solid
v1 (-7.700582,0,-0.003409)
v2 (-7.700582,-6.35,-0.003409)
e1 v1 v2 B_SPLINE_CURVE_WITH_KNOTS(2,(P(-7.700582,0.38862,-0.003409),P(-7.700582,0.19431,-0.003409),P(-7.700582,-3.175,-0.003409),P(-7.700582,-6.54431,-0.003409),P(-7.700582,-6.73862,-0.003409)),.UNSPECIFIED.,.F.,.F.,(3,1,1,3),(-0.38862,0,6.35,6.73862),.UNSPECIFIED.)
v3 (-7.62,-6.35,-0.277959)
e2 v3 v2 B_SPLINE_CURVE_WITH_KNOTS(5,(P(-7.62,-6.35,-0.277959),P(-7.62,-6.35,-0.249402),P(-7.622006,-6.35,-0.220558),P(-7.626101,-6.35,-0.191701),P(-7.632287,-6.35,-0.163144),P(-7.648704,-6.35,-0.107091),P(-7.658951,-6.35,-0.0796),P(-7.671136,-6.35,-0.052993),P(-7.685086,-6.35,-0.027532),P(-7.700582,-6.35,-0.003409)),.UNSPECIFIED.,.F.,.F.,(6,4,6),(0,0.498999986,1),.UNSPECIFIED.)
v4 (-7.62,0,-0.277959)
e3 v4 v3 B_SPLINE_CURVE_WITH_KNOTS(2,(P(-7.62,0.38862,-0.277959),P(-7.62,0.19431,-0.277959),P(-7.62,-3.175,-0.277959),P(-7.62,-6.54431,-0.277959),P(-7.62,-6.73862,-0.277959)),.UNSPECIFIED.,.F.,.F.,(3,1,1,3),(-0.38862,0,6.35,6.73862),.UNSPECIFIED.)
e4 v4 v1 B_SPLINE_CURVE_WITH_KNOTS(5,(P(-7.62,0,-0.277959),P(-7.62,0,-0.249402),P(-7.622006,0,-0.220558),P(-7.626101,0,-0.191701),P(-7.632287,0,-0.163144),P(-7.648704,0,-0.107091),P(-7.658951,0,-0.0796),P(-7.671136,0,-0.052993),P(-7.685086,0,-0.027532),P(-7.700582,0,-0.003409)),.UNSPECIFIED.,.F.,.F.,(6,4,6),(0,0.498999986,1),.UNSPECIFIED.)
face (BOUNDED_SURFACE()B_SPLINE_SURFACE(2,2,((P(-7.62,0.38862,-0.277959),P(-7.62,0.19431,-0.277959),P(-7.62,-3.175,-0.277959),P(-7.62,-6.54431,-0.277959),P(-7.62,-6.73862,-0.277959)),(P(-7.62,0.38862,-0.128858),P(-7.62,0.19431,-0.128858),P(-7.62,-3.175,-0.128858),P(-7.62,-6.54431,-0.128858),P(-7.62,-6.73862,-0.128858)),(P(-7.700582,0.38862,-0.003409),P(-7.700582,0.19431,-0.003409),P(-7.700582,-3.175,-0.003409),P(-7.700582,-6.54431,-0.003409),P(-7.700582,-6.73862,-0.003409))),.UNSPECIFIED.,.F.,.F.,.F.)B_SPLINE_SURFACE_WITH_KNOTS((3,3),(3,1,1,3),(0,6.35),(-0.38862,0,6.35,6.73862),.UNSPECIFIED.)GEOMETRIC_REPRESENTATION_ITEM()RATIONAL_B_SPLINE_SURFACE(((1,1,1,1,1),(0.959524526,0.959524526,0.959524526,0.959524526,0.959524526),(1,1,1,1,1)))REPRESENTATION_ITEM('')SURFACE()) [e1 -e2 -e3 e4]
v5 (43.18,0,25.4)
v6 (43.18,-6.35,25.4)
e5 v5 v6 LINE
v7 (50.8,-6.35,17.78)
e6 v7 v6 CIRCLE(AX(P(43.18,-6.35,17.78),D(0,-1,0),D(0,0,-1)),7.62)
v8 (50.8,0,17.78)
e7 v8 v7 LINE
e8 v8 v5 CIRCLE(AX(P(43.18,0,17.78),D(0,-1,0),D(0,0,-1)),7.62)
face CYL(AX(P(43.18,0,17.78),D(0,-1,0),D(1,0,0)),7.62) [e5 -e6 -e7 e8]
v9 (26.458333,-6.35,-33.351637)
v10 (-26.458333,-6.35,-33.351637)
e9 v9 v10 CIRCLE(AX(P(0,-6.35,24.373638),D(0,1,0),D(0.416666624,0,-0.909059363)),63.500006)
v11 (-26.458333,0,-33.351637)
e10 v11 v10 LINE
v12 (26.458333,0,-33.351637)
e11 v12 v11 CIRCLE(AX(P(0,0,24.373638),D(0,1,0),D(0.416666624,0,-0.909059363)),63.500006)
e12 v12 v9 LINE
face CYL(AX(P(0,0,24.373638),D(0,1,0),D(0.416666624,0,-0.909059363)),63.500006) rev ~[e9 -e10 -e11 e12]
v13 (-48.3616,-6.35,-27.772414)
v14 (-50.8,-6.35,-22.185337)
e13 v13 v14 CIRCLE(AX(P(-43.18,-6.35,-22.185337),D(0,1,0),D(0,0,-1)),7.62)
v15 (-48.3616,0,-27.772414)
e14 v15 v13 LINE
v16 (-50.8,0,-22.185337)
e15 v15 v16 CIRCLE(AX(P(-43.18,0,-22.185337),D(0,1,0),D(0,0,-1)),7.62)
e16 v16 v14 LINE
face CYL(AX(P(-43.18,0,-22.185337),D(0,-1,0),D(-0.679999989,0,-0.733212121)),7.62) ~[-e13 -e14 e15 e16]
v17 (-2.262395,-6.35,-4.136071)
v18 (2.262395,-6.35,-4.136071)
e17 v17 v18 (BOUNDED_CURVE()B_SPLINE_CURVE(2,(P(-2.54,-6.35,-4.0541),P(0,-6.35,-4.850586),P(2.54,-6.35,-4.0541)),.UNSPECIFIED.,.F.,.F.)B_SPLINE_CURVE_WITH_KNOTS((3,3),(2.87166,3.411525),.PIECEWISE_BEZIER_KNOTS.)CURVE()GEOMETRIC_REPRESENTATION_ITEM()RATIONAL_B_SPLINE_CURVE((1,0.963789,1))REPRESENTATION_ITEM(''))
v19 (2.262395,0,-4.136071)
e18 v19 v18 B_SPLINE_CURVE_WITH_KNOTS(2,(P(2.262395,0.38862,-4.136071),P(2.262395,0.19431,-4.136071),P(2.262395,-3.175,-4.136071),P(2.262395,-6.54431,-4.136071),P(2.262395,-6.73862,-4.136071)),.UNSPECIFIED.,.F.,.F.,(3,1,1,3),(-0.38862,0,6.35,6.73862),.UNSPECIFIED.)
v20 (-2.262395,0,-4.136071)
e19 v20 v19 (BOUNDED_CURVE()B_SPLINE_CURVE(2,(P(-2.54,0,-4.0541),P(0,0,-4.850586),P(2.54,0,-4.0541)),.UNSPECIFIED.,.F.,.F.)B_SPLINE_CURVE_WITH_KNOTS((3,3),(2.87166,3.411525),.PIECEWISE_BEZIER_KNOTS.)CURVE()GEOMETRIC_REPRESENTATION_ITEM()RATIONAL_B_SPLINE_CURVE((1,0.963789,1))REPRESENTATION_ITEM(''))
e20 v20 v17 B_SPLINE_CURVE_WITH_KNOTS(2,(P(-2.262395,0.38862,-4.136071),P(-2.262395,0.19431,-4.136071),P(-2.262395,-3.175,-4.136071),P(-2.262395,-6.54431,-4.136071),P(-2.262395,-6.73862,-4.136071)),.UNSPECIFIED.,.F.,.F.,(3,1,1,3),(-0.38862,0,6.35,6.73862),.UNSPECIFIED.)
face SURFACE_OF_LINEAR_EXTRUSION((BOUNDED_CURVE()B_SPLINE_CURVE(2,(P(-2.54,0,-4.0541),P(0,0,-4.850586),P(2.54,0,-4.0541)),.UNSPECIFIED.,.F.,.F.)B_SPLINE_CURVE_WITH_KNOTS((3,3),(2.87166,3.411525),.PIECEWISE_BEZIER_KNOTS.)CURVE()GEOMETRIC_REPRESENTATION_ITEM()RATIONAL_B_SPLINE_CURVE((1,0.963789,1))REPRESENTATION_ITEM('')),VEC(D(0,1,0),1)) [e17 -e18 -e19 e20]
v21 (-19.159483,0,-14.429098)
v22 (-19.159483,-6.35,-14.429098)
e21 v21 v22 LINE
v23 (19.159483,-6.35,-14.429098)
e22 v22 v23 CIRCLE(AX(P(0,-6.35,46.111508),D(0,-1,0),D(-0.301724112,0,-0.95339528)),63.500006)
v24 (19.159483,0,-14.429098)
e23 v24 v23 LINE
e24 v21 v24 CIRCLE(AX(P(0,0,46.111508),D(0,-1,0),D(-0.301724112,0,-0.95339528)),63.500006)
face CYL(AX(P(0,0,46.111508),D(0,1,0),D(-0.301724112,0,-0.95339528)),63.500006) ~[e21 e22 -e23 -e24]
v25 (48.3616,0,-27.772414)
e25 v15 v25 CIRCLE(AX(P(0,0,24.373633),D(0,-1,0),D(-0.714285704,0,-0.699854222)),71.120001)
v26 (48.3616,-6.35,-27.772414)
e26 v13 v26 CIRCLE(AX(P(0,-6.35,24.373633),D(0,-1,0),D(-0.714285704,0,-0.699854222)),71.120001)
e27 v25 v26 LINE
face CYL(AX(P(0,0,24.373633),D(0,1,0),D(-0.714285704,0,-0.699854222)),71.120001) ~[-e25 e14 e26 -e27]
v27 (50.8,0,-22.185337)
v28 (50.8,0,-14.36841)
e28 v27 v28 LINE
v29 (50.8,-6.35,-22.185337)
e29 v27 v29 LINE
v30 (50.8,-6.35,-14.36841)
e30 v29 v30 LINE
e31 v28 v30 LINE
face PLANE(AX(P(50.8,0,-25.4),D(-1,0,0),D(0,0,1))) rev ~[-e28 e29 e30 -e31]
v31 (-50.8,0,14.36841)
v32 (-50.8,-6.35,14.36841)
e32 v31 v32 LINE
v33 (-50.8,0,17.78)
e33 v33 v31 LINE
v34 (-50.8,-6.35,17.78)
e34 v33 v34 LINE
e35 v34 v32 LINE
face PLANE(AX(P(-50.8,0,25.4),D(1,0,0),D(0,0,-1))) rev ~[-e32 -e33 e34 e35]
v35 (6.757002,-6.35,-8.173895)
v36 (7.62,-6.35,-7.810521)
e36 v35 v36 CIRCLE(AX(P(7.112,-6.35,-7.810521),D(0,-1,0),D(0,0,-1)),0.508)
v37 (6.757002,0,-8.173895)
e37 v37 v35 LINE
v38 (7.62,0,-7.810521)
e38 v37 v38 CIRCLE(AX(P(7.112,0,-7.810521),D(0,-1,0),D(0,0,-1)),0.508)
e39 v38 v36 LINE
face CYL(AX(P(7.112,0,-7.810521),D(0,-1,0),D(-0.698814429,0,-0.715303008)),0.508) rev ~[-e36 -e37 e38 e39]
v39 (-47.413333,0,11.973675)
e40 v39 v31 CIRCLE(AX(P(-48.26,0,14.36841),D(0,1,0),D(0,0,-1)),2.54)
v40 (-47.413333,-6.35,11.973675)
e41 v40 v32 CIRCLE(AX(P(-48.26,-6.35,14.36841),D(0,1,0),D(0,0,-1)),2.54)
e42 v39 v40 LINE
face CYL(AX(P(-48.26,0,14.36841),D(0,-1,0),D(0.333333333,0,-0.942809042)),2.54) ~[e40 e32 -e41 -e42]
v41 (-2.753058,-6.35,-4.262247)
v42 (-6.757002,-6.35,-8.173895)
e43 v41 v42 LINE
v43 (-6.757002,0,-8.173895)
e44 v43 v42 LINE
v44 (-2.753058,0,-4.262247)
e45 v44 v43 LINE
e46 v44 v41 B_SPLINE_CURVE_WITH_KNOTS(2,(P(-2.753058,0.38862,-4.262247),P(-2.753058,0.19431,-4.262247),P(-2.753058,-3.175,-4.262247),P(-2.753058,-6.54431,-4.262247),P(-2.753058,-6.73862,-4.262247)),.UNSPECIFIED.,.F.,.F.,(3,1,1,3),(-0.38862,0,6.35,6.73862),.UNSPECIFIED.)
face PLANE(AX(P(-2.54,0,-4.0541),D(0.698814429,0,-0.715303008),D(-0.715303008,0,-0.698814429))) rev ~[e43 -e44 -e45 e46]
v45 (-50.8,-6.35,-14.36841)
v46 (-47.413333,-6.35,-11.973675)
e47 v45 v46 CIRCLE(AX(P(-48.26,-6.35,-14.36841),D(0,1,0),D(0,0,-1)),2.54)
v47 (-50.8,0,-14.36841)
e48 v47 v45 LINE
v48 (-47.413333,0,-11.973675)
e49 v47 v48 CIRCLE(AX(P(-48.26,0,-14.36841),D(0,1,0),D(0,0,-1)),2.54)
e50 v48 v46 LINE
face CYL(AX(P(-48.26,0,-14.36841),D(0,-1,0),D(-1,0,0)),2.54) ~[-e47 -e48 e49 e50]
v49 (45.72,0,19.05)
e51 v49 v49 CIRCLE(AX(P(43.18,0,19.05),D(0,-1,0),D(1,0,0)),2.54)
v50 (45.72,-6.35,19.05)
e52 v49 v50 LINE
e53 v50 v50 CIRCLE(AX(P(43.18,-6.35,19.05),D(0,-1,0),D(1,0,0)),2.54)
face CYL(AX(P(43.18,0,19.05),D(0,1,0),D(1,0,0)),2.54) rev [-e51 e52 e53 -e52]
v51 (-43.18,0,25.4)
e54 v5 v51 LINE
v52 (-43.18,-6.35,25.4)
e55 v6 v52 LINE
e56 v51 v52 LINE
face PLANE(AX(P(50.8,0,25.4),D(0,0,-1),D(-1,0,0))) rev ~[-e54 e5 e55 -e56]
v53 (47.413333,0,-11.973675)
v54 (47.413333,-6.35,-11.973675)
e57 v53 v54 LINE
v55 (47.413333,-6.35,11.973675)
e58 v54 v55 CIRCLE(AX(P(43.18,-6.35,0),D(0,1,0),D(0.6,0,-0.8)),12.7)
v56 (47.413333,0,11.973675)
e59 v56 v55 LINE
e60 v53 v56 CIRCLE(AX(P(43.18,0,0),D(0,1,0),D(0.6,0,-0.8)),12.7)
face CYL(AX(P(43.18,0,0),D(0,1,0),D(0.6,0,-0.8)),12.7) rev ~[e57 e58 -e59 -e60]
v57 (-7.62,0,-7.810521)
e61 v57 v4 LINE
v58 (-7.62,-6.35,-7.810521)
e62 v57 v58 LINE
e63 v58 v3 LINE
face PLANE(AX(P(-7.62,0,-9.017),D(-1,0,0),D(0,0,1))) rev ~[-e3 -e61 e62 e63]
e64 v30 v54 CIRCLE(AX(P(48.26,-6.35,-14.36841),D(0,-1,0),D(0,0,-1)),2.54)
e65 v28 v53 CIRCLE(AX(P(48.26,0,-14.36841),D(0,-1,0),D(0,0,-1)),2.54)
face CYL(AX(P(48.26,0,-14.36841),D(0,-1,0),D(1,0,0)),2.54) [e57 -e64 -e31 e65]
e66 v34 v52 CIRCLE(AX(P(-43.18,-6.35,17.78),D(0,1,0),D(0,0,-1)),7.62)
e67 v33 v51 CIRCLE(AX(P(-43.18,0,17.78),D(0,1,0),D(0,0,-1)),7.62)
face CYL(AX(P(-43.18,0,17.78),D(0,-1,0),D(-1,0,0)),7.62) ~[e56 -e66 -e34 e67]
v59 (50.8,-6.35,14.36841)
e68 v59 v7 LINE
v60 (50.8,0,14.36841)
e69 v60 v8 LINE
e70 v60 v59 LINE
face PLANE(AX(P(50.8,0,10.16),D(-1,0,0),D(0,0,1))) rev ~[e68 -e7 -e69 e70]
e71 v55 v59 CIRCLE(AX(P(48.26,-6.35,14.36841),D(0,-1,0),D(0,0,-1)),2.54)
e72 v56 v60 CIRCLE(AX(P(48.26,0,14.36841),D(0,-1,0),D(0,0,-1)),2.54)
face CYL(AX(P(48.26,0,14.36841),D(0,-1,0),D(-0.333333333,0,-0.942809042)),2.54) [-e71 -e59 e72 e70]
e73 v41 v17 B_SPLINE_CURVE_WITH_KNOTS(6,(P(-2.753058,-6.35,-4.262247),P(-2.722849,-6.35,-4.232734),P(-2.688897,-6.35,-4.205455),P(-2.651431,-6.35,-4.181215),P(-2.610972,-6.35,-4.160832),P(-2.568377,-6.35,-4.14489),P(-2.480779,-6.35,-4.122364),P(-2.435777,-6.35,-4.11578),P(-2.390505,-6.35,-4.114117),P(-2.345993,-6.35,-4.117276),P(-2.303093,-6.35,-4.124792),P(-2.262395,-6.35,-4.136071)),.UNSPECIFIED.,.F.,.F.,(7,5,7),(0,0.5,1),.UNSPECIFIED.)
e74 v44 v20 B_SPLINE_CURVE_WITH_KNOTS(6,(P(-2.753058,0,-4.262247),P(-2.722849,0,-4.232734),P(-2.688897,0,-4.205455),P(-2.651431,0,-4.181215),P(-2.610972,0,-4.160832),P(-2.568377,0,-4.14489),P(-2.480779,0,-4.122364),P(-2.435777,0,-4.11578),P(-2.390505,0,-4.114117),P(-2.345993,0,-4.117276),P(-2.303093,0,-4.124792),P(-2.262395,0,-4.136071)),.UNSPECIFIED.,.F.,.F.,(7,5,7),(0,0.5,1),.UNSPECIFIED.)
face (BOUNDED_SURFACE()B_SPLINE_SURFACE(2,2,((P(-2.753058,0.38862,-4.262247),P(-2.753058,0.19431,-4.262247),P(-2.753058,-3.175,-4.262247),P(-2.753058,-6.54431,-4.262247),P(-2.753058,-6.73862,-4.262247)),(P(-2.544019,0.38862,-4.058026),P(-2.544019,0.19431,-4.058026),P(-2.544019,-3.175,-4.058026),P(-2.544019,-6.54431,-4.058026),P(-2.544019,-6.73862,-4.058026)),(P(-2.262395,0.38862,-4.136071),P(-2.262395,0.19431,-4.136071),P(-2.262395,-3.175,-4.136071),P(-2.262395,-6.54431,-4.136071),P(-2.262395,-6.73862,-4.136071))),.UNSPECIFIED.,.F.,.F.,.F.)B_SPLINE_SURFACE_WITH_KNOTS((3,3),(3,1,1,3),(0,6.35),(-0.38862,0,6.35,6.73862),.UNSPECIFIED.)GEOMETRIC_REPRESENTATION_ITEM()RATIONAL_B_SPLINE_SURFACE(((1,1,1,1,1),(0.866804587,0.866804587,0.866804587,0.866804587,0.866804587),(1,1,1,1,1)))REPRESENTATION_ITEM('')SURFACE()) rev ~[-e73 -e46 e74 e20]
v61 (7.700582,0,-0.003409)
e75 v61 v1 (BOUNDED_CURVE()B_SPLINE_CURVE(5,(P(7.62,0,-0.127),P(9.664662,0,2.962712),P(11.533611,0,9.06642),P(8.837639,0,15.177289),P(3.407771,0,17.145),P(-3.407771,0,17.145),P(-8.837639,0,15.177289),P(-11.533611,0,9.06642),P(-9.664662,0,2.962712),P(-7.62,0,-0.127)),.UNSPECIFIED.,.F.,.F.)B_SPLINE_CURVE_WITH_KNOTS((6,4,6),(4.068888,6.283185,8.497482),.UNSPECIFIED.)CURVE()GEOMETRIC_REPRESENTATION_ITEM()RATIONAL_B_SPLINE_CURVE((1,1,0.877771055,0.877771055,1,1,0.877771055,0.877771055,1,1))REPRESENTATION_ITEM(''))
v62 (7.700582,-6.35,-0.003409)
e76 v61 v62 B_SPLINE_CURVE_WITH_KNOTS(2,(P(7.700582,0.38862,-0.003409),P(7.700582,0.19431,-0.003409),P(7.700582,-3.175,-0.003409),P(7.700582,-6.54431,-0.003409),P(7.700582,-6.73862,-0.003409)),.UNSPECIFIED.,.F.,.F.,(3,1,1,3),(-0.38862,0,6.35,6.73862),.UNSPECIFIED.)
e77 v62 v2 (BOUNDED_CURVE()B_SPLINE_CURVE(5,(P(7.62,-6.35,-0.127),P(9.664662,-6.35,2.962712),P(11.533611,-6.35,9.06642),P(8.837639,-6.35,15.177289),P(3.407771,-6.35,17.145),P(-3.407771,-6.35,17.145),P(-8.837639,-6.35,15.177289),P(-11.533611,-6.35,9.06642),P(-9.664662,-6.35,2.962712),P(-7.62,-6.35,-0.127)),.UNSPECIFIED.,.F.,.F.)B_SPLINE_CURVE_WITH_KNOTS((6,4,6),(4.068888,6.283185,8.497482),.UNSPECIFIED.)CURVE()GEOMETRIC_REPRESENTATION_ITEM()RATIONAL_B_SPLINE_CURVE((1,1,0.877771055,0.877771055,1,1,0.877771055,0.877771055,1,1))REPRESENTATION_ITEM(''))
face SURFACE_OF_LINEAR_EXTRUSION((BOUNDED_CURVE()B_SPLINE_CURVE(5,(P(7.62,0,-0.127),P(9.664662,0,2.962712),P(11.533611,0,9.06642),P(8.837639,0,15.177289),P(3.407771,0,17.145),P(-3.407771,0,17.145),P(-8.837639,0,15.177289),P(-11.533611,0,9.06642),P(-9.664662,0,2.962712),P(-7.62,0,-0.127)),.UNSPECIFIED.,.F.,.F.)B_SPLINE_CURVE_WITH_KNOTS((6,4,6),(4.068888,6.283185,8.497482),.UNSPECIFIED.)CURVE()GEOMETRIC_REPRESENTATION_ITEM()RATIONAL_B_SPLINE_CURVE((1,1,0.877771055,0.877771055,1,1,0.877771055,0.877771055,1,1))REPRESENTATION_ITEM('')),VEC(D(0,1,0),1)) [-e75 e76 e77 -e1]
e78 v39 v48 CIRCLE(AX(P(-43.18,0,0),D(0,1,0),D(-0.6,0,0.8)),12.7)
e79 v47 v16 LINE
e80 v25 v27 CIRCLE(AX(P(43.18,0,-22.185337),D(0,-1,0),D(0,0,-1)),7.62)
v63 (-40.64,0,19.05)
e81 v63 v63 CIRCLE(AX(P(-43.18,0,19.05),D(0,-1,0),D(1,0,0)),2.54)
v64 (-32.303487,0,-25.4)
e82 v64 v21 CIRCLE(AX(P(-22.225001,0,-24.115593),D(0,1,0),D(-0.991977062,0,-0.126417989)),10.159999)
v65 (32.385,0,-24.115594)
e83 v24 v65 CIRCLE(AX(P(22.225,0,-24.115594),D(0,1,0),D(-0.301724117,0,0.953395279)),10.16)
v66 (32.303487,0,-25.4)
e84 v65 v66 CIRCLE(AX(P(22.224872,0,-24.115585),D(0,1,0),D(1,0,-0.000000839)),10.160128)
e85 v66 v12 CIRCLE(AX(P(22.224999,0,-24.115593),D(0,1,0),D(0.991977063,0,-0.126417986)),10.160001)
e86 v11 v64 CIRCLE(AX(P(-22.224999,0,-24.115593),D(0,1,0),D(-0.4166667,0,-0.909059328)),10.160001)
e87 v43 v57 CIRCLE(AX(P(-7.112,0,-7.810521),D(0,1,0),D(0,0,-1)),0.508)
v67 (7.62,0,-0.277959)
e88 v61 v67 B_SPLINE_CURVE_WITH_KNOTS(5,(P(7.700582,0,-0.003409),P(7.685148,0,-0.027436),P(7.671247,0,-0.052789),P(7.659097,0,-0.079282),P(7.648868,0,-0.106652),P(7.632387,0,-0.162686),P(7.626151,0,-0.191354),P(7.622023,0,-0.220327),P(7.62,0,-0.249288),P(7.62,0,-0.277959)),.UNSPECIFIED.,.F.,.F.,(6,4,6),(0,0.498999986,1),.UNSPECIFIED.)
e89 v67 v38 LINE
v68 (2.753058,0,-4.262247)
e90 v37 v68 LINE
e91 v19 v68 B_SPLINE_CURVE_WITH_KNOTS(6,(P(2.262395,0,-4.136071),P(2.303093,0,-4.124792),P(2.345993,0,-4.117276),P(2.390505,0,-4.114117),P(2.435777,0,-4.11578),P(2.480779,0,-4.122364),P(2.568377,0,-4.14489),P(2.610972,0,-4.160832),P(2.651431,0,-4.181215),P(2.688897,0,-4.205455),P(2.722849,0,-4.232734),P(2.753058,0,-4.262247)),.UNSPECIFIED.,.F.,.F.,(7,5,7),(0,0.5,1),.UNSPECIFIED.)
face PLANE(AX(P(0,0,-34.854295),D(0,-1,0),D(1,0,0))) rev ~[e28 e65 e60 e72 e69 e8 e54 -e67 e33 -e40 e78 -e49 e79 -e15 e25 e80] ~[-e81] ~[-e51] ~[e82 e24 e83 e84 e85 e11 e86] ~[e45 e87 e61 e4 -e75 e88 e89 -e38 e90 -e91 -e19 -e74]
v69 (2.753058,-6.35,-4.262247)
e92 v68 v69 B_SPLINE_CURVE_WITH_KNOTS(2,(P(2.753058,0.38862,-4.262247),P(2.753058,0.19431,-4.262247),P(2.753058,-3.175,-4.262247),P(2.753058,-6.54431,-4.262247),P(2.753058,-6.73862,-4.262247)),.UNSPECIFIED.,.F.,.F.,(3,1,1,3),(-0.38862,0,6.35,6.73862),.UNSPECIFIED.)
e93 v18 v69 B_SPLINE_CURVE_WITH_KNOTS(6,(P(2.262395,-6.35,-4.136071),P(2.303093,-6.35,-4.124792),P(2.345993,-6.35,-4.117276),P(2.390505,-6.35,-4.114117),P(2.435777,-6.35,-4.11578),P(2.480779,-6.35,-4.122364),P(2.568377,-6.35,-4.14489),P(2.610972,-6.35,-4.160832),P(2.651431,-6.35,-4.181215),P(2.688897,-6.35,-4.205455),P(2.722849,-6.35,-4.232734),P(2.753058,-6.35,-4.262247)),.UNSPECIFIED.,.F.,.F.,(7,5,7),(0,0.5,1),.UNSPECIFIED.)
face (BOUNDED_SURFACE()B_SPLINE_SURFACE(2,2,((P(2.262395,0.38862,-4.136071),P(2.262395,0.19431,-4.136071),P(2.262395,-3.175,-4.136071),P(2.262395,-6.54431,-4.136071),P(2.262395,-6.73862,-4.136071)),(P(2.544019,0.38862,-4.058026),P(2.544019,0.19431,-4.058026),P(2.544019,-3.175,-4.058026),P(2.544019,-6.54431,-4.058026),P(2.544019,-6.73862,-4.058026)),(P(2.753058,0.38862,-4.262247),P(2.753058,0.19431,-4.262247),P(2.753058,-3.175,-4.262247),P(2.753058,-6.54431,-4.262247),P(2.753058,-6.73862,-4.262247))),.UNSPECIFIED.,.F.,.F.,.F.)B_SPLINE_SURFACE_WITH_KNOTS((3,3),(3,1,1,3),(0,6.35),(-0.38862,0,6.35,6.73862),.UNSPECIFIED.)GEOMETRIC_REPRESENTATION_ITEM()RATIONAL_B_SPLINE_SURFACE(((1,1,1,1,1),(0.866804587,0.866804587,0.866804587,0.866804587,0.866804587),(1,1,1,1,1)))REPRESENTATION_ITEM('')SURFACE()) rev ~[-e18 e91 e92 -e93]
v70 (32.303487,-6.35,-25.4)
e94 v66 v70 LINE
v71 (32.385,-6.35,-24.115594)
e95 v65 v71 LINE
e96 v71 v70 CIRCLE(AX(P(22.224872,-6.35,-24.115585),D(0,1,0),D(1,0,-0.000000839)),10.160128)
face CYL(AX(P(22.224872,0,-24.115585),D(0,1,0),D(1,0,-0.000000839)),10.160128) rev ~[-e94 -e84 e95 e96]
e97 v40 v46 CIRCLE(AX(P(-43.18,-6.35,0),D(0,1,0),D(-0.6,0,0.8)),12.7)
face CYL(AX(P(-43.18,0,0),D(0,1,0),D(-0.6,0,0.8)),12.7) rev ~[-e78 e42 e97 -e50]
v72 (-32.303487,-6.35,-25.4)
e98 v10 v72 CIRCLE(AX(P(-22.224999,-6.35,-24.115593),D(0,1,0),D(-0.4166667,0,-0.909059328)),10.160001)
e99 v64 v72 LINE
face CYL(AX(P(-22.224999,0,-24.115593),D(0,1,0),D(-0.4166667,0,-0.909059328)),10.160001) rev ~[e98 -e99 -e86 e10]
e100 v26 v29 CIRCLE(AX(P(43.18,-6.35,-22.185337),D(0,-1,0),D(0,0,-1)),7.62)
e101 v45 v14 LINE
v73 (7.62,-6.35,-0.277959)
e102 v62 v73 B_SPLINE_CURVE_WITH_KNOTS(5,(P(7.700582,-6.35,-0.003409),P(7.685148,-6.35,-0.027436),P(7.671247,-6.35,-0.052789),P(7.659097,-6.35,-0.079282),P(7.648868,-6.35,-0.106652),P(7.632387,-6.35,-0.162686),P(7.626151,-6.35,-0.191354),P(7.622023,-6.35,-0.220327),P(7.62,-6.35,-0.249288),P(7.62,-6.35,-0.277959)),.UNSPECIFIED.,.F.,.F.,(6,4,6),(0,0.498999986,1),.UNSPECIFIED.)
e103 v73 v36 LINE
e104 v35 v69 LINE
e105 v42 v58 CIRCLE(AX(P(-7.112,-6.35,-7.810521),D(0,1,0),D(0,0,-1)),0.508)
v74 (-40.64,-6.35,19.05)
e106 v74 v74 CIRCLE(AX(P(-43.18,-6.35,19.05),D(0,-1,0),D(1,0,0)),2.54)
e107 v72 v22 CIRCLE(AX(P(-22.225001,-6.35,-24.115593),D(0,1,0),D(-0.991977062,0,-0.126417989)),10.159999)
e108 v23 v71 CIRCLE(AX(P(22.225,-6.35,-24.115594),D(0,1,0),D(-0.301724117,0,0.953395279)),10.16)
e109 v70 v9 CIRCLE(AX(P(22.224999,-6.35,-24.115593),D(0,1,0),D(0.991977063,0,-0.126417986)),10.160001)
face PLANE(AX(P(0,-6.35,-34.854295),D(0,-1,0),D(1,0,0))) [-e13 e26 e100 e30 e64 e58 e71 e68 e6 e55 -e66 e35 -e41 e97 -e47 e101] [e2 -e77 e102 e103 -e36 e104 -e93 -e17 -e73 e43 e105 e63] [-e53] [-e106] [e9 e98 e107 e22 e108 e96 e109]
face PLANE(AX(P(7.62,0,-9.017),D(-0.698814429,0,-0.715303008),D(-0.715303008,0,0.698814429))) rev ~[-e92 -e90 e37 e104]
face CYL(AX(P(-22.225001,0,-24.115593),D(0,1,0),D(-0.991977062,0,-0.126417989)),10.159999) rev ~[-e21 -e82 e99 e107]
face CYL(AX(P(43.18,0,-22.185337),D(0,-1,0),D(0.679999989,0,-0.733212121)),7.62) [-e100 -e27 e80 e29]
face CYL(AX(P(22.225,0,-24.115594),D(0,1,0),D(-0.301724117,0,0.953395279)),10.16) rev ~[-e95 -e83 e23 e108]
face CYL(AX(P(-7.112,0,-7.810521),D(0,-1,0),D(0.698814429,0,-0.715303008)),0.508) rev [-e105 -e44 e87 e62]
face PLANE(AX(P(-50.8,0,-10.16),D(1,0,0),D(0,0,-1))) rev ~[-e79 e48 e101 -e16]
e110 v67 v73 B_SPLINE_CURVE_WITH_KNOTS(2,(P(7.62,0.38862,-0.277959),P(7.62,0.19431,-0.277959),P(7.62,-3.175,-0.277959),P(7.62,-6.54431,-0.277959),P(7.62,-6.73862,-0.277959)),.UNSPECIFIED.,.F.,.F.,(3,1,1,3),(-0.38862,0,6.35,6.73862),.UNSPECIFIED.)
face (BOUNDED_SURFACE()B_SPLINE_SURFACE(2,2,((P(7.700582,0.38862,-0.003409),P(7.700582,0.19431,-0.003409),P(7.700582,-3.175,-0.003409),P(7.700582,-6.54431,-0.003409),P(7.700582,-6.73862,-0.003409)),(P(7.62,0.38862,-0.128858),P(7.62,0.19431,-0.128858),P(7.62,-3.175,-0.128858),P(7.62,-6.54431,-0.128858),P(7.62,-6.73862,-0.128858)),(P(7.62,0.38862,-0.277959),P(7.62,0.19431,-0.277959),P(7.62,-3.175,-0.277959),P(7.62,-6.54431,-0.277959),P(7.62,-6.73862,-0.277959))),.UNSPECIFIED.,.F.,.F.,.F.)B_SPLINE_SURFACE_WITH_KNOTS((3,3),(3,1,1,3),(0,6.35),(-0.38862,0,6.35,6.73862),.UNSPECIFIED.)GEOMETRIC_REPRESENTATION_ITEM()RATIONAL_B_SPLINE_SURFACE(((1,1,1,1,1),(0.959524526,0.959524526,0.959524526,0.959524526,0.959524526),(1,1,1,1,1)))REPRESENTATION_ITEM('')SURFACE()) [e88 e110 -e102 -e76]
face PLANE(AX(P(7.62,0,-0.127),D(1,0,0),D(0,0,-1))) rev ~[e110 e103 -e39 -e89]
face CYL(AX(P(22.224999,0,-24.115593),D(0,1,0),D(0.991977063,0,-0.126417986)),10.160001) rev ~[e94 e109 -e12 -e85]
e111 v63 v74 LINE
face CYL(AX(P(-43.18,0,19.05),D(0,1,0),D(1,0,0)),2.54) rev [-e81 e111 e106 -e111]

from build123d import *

# Parameters (mm, degrees)
F0_R     = 2.54
F1_DEPTH = 6.35
F2_R     = 7.62
F3_R     = 2.54
F4_R     = 0.508


with BuildPart() as f1:
    # F0 (on Front) → F1 (new body)
    with BuildSketch(Plane.XZ):
        with BuildLine():
            Line((-32.303487, -25.4), (-50.8, -25.4))
            ThreePointArc((-50.8, -25.4), (0, -46.746368), (50.8, -25.4))
            Line((50.8, -25.4), (32.303487, -25.4))
            ThreePointArc((32.303487, -25.4), (30.411219, -30.133186), (26.458333, -33.351637))
            ThreePointArc((26.458333, -33.351637), (0, -39.126368), (-26.458333, -33.351637))
            ThreePointArc((-26.458333, -33.351637), (-30.411219, -30.133186), (-32.303487, -25.4))
        make_face()
        with BuildLine():
            Line((50.8, 25.4), (-50.8, 25.4))
            Line((-50.8, 25.4), (-50.8, 10.16))
            ThreePointArc((-50.8, 10.16), (-30.48, 0), (-50.8, -10.16))
            Line((-50.8, -10.16), (-50.8, -25.4))
            Line((-50.8, -25.4), (-32.303487, -25.4))
            ThreePointArc((-32.303487, -25.4), (-28.735423, -16.315594), (-19.159483, -14.429098))
            ThreePointArc((-19.159483, -14.429098), (0, -17.388498), (19.159483, -14.429098))
            ThreePointArc((19.159483, -14.429098), (28.22833, -15.91891), (32.385, -24.115594))
            ThreePointArc((32.385, -24.115594), (32.364601, -24.759089), (32.303487, -25.4))
            Line((32.303487, -25.4), (50.8, -25.4))
            Line((50.8, -25.4), (50.8, -10.16))
            ThreePointArc((50.8, -10.16), (30.48, 0), (50.8, 10.16))
            Line((50.8, 10.16), (50.8, 25.4))
        make_face()
        with BuildLine():
            Line((-7.62, -9.017), (-7.62, -0.127))
            add(Edge.make_bspline(
                [(0, 17.145), (-19.05, 17.145), (-7.62, -0.127)],
                knots=[0, 0, 0, 2.214297, 2.214297, 2.214297], degree=2, weights=[1, 0.447214, 1]))
            add(Edge.make_bspline(
                [(7.62, -0.127), (19.05, 17.145), (0, 17.145)],
                knots=[4.068888, 4.068888, 4.068888, 6.283185, 6.283185, 6.283185], degree=2, weights=[1, 0.447214, 1]))
            Line((7.62, -0.127), (7.62, -9.017))
            Line((7.62, -9.017), (2.54, -4.0541))
            add(Edge.make_bspline(
                [(-2.54, -4.0541), (0, -4.850586), (2.54, -4.0541)],
                knots=[2.87166, 2.87166, 2.87166, 3.411525, 3.411525, 3.411525], degree=2, weights=[1, 0.963789, 1]))
            Line((-2.54, -4.0541), (-7.62, -9.017))
        make_face(mode=Mode.SUBTRACT)
        with Locations((-43.18, 19.05)):
            Circle(F0_R, mode=Mode.SUBTRACT)
        with Locations((43.18, 19.05)):
            Circle(F0_R, mode=Mode.SUBTRACT)
    extrude(amount=F1_DEPTH)

    # F2
    f2_edges = [f1.edges().sort_by_distance(p)[0] for p in [
        (50.8, -3.175, -25.4),
        (-50.8, -3.175, -25.4),
        (-50.8, -3.175, 25.4),
        (50.8, -3.175, 25.4),
    ]]
    fillet(f2_edges, radius=F2_R)

    # F3
    f3_edges = [f1.edges().sort_by_distance(p)[0] for p in [
        (-50.8, -3.175, -10.16),
        (50.8, -3.175, -10.16),
        (50.8, -3.175, 10.16),
        (-50.8, -3.175, 10.16),
    ]]
    fillet(f3_edges, radius=F3_R)

    # F4
    f4_edges = [f1.edges().sort_by_distance(p)[0] for p in [
        (-7.62, -3.175, -0.127),
        (-2.54, -3.175, -4.0541),
        (2.54, -3.175, -4.0541),
        (-7.62, -3.175, -9.017),
        (7.62, -3.175, -9.017),
        (7.62, -3.175, -0.127),
    ]]
    fillet(f4_edges, radius=F4_R)


solid = f1.part
